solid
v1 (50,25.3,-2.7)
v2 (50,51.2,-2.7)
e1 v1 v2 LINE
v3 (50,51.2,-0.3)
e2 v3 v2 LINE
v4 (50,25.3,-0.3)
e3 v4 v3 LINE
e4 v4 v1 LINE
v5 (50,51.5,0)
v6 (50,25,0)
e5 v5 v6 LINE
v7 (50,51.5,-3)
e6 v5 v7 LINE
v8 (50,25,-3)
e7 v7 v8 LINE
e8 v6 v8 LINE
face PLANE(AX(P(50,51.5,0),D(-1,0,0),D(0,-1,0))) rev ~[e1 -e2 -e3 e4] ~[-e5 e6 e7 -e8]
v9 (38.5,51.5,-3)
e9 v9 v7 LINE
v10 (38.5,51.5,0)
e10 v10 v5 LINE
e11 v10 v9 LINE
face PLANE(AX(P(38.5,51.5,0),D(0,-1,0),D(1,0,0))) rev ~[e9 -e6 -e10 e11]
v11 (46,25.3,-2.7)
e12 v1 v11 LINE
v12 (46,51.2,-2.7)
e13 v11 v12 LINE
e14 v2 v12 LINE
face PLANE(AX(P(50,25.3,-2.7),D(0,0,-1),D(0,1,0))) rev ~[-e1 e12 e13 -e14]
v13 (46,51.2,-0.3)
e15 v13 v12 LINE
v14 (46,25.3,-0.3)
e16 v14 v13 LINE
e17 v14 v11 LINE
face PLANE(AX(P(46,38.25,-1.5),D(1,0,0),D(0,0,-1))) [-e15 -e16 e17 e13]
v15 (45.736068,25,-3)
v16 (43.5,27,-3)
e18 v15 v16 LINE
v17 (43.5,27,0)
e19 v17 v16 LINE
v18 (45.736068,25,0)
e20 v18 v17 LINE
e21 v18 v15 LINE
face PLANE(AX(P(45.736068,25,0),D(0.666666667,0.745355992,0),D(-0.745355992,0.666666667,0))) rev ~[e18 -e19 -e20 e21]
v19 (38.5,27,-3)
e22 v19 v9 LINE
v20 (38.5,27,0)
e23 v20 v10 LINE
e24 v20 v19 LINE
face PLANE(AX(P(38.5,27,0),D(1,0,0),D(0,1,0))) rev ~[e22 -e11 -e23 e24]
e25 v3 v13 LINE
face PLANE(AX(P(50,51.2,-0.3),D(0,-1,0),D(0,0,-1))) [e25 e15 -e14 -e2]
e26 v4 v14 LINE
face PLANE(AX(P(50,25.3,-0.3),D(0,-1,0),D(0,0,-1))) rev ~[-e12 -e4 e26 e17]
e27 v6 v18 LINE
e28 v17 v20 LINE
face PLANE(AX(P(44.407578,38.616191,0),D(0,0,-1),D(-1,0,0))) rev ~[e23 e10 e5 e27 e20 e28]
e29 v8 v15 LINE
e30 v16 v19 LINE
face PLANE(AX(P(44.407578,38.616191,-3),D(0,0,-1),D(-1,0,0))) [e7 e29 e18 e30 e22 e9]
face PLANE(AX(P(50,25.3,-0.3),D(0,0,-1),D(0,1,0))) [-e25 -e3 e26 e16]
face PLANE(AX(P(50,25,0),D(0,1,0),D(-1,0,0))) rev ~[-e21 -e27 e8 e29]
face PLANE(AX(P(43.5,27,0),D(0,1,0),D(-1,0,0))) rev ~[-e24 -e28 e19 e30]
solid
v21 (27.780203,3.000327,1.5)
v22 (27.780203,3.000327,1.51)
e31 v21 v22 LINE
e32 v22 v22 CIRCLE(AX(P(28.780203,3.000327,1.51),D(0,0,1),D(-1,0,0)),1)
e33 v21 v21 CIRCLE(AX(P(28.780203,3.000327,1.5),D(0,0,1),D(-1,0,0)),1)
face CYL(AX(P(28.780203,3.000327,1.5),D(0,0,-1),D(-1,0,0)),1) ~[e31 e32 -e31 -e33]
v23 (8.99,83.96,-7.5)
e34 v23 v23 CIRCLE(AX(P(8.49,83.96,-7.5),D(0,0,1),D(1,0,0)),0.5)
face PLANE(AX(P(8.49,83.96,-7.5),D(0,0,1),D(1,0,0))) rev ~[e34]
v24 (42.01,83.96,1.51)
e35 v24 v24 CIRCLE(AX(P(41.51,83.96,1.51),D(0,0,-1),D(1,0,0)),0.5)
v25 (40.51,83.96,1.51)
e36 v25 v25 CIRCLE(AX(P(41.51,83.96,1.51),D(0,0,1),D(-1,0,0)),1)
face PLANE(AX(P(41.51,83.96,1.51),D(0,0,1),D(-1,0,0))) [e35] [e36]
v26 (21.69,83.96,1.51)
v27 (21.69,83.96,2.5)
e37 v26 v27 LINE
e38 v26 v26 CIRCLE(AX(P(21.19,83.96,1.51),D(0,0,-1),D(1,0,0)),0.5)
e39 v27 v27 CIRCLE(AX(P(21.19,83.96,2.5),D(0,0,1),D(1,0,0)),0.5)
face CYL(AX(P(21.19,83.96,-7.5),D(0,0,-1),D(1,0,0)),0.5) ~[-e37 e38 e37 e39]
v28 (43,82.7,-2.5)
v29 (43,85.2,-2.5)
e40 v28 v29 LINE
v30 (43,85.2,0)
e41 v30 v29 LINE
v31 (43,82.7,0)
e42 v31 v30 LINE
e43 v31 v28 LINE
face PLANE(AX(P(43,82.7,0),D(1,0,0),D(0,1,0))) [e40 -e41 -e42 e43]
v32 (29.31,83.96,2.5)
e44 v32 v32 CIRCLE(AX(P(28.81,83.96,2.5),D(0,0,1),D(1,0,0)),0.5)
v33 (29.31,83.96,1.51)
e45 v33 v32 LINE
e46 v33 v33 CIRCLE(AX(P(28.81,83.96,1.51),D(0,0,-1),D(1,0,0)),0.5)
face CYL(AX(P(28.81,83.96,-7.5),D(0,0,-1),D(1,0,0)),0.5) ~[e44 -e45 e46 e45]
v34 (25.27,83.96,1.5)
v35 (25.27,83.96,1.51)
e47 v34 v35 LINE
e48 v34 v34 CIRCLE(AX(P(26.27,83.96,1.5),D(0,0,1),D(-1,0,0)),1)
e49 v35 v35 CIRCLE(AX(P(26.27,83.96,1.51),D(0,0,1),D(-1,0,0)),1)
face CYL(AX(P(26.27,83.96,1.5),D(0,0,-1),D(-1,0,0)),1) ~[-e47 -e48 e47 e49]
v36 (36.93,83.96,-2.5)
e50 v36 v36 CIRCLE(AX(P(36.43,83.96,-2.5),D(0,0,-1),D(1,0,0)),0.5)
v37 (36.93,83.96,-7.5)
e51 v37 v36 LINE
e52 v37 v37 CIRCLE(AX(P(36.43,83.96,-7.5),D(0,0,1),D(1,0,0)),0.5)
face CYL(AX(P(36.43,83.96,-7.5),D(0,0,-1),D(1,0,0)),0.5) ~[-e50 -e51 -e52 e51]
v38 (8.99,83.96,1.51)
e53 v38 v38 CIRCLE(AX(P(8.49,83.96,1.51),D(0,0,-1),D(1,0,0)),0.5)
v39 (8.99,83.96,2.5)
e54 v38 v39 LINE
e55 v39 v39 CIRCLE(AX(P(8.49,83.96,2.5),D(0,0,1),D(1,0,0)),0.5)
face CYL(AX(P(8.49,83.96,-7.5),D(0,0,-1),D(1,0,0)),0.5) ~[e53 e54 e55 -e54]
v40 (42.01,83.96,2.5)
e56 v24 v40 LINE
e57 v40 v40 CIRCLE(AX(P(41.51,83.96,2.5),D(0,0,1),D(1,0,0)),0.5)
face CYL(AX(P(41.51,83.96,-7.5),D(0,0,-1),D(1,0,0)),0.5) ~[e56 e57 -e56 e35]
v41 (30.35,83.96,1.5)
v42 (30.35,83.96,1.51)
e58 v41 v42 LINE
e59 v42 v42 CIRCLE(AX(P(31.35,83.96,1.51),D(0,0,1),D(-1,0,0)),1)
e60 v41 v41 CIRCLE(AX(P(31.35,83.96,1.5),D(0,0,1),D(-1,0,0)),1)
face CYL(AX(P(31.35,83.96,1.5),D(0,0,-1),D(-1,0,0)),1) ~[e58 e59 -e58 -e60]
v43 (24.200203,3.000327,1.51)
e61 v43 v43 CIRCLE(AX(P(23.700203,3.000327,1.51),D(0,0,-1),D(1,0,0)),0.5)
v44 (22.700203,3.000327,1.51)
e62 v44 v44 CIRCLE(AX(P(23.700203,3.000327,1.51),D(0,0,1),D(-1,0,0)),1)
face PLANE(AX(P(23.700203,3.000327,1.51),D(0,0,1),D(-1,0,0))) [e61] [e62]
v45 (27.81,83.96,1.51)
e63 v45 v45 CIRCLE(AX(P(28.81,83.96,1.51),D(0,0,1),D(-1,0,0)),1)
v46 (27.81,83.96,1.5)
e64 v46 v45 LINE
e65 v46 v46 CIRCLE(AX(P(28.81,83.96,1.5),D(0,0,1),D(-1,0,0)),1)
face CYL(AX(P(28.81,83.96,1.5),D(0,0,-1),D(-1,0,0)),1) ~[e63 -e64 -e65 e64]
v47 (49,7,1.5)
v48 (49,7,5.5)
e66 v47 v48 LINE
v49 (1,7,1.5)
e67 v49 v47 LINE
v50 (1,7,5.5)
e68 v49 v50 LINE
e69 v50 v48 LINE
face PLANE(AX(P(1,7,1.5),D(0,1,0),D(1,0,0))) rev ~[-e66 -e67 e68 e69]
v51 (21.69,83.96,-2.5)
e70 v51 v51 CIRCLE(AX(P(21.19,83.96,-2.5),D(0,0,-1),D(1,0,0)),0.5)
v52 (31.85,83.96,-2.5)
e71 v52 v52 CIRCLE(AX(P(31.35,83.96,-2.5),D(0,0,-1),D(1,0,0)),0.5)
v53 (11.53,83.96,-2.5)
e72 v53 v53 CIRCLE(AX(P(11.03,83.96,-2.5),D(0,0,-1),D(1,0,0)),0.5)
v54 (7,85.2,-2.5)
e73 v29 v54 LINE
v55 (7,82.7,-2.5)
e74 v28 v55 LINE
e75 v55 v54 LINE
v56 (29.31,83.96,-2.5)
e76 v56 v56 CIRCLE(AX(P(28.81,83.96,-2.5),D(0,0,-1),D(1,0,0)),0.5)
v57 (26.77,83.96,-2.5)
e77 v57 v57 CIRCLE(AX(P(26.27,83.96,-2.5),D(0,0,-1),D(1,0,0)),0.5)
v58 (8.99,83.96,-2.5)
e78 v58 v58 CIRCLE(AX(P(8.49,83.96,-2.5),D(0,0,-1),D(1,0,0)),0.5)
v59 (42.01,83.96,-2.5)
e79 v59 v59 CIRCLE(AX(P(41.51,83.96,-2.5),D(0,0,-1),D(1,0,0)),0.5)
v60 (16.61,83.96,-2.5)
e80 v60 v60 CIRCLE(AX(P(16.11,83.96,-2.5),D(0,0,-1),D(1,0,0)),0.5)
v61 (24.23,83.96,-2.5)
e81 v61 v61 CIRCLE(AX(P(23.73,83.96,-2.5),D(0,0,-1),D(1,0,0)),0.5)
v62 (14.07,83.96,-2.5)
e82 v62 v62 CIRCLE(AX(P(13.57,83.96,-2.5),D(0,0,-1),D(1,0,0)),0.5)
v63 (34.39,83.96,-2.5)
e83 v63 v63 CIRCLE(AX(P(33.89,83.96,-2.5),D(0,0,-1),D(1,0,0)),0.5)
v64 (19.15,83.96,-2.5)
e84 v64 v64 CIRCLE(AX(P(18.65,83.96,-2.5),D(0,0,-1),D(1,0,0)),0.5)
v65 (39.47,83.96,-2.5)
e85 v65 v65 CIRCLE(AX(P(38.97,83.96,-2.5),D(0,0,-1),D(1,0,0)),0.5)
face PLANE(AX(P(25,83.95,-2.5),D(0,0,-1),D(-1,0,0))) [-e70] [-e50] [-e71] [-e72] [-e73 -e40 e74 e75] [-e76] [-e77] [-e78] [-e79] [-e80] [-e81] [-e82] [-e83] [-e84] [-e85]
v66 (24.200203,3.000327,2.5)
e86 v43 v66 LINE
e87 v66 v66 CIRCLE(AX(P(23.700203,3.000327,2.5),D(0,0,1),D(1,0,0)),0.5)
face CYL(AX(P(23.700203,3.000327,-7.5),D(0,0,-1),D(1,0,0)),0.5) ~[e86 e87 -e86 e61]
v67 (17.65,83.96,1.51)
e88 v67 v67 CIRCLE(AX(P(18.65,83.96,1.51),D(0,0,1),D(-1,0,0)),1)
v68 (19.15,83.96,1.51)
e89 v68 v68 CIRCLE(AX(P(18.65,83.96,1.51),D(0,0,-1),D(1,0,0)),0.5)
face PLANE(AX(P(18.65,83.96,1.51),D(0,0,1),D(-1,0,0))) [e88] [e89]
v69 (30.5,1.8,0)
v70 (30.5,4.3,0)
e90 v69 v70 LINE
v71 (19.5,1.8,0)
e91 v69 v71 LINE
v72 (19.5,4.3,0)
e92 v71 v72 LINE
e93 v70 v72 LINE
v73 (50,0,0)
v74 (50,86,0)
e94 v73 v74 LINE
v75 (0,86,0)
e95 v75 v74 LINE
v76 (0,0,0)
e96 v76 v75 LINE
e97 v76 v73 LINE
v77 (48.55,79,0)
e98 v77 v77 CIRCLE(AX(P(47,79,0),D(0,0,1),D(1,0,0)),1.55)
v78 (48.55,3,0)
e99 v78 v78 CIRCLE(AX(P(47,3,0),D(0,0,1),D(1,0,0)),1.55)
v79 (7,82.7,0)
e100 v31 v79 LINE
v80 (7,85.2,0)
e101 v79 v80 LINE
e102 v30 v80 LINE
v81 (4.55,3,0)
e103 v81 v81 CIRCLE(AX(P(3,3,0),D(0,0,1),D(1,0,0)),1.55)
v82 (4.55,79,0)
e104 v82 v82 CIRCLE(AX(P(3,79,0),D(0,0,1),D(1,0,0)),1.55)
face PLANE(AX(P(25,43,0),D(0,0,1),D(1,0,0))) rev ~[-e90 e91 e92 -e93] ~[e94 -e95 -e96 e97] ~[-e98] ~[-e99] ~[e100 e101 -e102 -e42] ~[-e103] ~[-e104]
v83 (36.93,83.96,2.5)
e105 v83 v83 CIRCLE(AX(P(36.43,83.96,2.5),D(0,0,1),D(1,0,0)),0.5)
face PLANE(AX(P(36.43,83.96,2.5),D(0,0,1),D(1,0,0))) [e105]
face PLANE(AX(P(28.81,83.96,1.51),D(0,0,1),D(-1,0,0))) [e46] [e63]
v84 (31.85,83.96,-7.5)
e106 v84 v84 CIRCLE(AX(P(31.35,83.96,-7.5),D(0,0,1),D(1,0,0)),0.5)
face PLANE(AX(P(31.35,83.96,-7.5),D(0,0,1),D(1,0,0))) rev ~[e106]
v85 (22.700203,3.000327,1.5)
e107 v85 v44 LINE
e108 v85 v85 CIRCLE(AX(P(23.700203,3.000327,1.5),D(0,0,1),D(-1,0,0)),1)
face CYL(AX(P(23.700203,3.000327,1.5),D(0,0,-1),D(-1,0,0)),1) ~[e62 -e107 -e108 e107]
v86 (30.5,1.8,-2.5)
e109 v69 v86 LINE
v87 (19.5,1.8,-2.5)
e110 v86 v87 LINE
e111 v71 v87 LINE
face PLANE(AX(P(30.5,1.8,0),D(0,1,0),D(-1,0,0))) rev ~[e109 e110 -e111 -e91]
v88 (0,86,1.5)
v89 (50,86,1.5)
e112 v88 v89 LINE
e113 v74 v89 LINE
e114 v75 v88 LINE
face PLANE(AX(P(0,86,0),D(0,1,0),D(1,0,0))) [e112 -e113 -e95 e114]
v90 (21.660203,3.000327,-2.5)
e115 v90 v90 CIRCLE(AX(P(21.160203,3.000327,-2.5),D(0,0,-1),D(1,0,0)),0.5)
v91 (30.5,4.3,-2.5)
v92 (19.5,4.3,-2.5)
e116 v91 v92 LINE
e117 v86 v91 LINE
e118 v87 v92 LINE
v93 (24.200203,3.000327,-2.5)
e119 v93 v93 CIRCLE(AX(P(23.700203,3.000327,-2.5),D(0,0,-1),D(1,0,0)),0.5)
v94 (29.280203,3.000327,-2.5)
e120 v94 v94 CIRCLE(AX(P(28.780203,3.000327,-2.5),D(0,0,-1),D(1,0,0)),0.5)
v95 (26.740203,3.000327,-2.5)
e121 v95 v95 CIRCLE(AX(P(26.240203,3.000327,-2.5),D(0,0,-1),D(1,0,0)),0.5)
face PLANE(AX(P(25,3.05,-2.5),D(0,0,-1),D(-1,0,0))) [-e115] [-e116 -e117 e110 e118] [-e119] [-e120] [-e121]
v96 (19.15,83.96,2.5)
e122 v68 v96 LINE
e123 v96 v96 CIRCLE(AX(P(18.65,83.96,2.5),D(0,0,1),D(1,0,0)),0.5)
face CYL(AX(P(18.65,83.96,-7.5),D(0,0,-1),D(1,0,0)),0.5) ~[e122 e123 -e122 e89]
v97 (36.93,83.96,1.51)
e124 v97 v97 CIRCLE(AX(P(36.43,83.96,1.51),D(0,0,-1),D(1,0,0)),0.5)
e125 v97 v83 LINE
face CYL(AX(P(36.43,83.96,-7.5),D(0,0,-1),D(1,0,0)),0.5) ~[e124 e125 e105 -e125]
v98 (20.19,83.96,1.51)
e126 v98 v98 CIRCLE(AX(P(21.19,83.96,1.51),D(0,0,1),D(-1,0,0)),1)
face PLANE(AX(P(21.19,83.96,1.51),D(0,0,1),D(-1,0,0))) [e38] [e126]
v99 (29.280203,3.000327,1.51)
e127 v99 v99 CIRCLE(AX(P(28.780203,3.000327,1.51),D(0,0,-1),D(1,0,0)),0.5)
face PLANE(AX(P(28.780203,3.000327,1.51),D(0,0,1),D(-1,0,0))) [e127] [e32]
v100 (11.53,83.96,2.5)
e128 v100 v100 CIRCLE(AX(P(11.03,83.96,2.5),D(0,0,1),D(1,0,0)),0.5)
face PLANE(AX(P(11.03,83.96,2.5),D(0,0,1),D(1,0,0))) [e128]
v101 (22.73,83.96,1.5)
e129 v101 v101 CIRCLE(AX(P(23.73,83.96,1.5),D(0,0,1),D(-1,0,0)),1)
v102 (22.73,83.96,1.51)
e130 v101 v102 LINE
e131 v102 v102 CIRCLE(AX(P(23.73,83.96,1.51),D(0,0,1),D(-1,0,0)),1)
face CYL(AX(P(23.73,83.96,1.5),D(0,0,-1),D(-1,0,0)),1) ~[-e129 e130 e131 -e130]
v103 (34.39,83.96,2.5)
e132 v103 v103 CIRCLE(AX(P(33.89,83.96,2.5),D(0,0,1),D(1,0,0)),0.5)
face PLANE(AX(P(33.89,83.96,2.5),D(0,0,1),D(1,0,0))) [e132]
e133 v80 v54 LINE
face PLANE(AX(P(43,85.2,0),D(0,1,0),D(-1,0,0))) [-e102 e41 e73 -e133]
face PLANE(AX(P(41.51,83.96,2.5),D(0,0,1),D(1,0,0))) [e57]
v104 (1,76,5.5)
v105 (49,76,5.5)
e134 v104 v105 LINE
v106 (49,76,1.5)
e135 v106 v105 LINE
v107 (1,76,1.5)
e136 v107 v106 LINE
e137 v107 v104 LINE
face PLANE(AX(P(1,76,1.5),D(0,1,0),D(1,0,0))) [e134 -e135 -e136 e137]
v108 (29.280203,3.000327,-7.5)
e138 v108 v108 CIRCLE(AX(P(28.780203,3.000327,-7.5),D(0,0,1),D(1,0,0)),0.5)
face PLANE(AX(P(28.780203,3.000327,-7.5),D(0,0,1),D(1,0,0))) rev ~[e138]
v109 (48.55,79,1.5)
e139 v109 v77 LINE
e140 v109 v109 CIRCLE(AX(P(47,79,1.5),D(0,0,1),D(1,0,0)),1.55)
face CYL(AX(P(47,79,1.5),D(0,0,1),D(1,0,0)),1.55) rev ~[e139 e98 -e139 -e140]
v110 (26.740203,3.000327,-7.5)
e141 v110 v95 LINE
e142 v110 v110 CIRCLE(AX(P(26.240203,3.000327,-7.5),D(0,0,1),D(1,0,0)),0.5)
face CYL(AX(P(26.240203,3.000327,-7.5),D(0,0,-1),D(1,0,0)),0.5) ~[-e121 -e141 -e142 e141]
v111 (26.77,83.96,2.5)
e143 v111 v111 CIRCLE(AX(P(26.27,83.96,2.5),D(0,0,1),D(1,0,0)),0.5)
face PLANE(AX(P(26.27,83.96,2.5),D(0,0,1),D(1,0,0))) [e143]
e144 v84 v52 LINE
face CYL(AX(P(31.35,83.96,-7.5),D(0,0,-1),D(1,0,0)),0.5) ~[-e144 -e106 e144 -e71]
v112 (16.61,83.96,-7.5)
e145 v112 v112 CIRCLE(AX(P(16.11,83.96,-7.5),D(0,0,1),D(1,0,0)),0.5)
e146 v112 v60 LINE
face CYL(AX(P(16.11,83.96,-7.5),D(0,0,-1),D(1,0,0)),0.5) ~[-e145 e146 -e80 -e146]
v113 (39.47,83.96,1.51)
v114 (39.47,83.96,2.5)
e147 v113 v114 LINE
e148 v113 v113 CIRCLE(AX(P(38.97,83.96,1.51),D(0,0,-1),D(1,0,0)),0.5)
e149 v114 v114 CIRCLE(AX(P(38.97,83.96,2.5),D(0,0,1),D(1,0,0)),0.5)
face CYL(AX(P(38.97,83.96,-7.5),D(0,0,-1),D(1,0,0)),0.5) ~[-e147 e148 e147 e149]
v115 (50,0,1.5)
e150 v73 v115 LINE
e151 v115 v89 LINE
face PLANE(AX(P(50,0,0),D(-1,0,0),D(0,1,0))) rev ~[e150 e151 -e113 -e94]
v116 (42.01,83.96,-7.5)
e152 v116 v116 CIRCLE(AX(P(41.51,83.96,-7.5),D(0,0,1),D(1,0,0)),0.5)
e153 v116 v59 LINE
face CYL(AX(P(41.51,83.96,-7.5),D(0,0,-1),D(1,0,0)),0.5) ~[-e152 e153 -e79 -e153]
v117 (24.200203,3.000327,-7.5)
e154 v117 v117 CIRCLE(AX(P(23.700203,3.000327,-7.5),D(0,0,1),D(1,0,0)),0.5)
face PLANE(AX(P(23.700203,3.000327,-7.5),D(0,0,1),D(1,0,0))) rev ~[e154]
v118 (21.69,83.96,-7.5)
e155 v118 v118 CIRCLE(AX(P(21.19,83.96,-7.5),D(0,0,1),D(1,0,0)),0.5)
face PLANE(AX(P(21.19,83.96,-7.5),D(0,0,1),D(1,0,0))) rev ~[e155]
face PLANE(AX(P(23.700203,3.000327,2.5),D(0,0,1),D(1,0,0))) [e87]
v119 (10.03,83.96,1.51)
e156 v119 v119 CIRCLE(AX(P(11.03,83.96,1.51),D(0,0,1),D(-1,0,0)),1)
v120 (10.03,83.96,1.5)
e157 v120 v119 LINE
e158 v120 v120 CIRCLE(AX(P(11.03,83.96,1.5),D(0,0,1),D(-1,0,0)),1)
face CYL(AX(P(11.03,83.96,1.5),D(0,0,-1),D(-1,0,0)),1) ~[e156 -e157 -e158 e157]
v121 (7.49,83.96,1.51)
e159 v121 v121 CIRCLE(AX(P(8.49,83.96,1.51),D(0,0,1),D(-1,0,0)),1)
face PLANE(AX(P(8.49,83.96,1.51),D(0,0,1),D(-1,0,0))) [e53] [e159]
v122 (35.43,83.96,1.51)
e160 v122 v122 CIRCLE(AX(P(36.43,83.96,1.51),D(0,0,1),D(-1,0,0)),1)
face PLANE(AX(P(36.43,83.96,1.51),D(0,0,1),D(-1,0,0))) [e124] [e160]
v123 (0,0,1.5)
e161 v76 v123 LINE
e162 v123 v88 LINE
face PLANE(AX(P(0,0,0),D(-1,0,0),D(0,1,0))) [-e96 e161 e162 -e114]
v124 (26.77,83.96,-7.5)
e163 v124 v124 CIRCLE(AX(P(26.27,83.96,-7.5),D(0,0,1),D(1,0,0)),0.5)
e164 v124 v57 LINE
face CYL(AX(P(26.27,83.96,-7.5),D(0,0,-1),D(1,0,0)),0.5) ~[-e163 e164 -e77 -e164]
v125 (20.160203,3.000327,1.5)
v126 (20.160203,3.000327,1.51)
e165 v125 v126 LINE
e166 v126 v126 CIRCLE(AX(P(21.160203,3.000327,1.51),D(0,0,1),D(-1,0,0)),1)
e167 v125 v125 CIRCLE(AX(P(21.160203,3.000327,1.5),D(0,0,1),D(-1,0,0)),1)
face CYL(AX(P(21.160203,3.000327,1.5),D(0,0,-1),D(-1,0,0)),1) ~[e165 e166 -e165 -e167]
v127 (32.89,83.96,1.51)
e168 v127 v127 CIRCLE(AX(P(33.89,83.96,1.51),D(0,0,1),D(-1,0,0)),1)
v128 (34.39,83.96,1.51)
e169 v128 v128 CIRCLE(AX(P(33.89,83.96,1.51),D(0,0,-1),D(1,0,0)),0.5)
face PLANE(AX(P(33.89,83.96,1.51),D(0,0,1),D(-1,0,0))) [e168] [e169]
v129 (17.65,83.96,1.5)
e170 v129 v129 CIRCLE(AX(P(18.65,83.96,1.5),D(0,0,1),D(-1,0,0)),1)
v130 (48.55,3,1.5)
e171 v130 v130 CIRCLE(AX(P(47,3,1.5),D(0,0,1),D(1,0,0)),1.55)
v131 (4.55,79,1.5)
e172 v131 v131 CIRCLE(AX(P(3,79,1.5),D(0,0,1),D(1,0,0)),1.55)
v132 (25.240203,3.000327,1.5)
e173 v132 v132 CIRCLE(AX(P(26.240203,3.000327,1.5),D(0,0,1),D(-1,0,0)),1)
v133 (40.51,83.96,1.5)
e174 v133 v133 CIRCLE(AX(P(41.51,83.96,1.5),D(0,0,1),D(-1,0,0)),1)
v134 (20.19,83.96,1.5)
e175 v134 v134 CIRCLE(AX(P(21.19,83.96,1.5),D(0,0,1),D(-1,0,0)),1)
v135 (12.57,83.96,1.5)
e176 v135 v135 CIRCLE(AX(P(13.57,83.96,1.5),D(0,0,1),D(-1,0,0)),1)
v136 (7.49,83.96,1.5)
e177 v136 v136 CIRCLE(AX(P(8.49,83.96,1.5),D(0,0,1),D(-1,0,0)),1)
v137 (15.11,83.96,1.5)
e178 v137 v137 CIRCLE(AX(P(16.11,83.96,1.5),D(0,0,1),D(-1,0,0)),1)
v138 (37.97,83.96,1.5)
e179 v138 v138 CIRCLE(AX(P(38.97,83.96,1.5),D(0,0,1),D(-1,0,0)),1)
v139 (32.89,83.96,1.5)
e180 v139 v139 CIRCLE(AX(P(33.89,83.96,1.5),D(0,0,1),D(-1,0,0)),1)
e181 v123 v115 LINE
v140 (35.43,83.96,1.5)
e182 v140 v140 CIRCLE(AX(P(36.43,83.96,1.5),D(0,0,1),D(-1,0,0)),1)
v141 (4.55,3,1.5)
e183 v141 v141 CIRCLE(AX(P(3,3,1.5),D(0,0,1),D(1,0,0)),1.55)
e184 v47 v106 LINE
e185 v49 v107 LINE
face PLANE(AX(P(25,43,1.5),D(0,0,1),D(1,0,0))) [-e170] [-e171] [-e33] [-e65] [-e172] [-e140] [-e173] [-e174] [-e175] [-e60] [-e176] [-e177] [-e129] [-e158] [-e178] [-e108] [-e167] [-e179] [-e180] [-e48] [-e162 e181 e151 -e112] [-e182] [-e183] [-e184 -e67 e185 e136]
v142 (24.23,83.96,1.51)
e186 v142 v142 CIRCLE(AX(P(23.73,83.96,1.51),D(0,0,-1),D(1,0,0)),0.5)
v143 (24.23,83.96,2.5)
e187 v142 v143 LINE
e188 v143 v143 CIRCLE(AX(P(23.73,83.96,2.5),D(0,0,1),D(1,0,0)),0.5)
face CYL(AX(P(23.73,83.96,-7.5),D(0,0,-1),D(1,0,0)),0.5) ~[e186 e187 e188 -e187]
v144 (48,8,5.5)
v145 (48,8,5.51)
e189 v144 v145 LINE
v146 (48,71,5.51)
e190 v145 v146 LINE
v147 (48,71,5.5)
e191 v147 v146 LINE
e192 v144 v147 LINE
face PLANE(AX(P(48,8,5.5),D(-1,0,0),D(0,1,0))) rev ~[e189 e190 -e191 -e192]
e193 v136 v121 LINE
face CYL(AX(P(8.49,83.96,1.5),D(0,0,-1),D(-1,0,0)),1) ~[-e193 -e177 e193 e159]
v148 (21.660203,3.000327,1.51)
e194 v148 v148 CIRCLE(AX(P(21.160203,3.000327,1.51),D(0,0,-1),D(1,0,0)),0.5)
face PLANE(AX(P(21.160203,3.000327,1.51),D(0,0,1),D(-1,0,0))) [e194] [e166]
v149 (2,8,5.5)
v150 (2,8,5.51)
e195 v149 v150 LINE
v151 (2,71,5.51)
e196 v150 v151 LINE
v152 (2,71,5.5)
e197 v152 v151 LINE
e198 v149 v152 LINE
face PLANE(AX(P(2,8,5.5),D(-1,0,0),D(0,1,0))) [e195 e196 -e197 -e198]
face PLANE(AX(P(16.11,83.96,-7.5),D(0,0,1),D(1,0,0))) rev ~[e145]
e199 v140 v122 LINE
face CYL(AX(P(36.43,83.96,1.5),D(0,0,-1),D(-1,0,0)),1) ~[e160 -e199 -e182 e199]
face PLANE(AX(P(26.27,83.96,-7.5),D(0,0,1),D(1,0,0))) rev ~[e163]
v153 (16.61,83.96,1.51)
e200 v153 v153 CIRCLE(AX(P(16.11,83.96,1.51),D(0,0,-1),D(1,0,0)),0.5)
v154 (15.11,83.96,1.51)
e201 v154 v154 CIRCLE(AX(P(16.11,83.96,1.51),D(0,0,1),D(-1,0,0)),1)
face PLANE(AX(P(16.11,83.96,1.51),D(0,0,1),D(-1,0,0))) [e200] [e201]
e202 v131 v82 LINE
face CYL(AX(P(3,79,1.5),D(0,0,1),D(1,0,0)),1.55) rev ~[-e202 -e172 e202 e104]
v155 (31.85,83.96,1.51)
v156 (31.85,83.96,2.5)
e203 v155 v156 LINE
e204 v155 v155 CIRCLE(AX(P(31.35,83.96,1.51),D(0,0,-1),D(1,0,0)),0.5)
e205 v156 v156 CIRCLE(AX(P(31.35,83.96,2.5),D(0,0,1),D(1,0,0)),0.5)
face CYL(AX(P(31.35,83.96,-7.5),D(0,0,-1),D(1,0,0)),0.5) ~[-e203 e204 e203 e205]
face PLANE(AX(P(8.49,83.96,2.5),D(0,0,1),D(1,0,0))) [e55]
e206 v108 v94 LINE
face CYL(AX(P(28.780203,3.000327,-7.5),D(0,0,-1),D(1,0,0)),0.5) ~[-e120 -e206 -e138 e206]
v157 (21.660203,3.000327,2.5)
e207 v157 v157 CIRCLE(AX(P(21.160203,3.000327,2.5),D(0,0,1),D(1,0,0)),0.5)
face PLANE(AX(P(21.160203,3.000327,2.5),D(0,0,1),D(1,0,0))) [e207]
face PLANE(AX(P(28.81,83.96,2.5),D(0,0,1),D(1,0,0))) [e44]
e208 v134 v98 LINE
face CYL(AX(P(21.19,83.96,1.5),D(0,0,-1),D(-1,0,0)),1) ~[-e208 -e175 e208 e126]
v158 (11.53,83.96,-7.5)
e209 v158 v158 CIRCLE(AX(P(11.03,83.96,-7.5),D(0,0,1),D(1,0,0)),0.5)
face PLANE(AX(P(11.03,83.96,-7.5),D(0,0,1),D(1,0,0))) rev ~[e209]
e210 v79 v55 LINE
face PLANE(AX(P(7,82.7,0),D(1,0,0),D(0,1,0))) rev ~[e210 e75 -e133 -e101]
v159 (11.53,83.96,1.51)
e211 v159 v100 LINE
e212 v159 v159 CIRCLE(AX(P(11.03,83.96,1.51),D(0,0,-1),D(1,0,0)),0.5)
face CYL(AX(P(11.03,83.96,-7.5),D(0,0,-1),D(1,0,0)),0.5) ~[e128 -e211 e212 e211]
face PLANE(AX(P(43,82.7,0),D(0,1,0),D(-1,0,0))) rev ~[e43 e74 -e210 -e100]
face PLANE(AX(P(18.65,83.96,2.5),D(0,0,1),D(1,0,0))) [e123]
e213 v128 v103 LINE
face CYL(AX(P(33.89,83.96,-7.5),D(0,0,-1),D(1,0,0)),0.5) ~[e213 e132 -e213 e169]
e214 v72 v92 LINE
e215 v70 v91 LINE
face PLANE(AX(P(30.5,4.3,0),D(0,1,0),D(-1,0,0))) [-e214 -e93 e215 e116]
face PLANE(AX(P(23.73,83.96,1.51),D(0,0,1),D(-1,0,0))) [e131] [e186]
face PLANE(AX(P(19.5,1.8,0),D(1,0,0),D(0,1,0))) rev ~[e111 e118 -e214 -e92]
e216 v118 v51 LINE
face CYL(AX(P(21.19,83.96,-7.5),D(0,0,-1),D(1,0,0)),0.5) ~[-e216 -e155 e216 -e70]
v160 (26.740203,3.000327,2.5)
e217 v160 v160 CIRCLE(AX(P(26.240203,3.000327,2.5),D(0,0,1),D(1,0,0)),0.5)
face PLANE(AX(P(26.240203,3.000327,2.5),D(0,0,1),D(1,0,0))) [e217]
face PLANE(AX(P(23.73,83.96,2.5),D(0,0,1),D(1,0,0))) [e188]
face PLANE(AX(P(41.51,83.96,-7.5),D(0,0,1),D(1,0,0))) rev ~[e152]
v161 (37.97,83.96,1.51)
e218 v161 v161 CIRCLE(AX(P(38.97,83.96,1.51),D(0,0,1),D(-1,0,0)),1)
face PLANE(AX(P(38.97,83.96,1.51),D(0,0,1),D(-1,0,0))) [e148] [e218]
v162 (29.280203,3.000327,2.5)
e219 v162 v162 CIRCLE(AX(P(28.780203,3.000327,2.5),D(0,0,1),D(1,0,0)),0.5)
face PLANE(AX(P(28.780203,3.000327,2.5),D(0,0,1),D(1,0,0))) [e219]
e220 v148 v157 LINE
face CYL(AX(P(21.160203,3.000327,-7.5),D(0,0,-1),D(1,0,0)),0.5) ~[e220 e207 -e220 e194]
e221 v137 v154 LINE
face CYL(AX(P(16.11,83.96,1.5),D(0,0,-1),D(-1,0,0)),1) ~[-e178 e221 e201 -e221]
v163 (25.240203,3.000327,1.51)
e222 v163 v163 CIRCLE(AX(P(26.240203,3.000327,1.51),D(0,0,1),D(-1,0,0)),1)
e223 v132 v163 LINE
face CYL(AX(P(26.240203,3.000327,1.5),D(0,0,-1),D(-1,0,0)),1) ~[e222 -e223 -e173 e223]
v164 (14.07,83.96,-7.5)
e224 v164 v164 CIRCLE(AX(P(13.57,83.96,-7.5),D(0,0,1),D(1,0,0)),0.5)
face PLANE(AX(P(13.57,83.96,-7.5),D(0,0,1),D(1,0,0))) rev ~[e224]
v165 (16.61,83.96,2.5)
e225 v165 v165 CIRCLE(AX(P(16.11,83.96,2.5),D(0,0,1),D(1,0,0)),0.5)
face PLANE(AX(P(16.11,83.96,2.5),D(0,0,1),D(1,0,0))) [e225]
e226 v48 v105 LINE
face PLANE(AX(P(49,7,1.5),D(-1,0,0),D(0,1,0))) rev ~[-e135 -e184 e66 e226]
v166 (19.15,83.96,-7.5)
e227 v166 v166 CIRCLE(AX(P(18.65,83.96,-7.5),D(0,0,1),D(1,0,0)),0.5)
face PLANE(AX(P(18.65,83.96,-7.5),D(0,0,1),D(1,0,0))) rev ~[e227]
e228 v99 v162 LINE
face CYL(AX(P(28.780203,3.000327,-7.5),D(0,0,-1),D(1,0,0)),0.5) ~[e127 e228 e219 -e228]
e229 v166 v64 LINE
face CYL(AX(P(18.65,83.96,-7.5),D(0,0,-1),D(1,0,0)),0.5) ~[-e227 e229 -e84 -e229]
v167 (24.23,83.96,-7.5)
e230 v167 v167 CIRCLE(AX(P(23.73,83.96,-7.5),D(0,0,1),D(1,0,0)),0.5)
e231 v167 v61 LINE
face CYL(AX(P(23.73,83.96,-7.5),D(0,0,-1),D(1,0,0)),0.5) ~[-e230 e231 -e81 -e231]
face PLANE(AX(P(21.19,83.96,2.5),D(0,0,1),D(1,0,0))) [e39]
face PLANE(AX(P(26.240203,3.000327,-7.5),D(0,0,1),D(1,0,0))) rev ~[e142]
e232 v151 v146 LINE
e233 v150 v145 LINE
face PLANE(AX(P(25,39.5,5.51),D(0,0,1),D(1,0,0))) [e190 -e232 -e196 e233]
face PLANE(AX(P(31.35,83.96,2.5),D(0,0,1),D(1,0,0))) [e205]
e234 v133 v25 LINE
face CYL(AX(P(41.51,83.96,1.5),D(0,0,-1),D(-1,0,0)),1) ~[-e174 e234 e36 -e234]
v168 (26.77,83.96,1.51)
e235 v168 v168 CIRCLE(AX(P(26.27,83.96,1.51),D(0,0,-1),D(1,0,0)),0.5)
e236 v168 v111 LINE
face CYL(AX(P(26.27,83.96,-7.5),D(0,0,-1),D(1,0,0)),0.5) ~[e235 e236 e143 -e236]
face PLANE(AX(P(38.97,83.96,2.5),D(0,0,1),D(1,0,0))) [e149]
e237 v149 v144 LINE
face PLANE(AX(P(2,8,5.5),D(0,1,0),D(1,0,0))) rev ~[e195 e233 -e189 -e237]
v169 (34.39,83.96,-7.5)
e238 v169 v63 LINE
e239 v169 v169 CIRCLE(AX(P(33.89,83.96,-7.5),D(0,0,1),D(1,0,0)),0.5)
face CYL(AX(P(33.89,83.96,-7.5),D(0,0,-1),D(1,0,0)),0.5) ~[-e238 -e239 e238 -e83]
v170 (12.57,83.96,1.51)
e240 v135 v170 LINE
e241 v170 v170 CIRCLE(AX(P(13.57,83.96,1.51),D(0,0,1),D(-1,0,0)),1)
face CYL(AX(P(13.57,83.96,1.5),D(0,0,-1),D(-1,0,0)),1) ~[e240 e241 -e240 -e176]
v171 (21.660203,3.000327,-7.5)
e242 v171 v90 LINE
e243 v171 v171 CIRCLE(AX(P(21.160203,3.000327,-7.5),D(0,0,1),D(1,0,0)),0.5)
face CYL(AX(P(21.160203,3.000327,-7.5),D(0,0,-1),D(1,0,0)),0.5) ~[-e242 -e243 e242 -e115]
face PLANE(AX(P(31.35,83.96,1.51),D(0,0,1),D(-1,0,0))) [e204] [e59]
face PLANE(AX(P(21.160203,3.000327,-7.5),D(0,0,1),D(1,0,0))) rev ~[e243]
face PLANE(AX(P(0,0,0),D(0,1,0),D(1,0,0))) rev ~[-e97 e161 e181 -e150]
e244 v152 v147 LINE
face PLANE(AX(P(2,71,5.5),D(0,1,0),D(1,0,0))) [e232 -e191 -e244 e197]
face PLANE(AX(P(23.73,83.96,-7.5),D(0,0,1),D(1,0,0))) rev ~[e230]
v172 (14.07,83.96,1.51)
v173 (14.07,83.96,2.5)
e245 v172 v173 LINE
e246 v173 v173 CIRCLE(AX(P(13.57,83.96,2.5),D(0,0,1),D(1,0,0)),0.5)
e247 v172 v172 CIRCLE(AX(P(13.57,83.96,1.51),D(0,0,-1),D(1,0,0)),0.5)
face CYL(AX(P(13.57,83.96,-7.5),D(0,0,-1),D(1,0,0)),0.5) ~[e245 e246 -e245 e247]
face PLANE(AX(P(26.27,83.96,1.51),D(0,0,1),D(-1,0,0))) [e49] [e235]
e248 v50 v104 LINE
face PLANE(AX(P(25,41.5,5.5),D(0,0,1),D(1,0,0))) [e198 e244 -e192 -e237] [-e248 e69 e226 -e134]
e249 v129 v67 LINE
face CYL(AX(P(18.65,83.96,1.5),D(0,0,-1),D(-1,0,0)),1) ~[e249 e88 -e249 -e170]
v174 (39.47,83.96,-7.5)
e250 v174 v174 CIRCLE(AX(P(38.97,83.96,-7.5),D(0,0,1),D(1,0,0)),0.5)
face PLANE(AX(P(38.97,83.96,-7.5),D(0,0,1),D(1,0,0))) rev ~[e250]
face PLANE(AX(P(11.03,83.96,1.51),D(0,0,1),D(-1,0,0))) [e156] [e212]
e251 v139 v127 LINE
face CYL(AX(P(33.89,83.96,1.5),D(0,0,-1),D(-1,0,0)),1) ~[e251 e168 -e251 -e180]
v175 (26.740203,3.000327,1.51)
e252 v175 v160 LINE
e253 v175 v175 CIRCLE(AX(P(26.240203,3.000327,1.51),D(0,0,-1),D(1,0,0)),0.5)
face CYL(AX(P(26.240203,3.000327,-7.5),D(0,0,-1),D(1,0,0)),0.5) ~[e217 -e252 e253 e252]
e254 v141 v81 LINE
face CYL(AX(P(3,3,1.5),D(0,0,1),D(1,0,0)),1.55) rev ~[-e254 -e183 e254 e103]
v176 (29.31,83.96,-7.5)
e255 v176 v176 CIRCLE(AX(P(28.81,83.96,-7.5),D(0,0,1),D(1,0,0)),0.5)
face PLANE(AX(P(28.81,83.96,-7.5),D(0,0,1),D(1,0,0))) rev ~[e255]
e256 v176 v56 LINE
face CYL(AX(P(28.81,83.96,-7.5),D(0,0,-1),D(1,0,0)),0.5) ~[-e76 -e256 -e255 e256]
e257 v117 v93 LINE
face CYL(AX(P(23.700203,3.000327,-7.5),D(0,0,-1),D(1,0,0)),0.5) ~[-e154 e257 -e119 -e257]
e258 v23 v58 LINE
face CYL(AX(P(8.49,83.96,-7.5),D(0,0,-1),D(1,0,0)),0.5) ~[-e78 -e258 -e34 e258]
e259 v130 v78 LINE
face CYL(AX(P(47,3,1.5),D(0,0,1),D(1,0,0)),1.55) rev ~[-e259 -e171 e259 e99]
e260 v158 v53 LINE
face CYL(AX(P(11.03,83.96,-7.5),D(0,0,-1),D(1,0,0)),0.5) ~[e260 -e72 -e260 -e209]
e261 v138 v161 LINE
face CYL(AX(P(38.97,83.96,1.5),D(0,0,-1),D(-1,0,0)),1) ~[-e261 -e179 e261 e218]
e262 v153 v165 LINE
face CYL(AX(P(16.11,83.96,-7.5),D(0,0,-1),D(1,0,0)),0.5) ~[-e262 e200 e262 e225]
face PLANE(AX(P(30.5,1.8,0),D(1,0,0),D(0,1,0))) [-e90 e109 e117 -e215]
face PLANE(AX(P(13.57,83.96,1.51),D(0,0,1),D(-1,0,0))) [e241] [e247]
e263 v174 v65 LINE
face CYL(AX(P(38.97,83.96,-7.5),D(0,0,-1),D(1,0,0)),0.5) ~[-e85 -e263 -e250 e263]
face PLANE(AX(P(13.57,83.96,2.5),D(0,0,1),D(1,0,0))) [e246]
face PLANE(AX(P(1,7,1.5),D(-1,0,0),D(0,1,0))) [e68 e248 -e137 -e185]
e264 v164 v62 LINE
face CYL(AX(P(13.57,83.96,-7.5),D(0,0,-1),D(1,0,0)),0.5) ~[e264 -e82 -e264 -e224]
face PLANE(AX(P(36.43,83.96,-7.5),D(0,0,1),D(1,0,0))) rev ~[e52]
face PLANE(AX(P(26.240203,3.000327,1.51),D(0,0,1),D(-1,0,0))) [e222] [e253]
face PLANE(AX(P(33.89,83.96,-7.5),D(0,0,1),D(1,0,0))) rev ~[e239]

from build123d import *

# Parameters (mm, degrees)
SKETCH1_W                = 50
SKETCH1_H                = 86
BOSS_EXTRUDE1_DEPTH      = 1.5
SKETCH2_R                = 1.55
CUT_EXTRUDE1_DEPTH       = 1.5
SKETCH3_W                = 48
SKETCH3_H                = 69
BOSS_EXTRUDE2_DEPTH      = 4
SKETCH4_W                = 46
SKETCH4_H                = 63
BOSS_EXTRUDE3_DEPTH      = 0.01
SKETCH5_R                = 1
BOSS_EXTRUDE4_DEPTH      = 0.01
BOSS_EXTRUDE5_DEPTH      = 1
BOSS_EXTRUDE5_DEPTH_BACK = 9
SKETCH6_R                = 0.5
SKETCH8_W                = 36
SKETCH8_H                = 2.5
SKETCH8_W_2              = 11
BOSS_EXTRUDE6_DEPTH      = 2.5
BOSS_EXTRUDE7_DEPTH      = 3
SKETCH10_W               = 2.4
SKETCH10_H               = 25.9
CUT_EXTRUDE2_DEPTH       = 4


with BuildPart() as part:
    # Sketch1 → Boss-Extrude1 (new body)
    with BuildSketch(Plane.XY):
        with Locations((25, 43)):
            Rectangle(SKETCH1_W, SKETCH1_H)
    extrude(amount=BOSS_EXTRUDE1_DEPTH)

    # Sketch2 → Cut-Extrude1 (cut)
    with BuildSketch(Plane.XY.offset(1.5)):
        with Locations((3, 79)):
            Circle(SKETCH2_R)
        with Locations((47, 79)):
            Circle(SKETCH2_R)
        with Locations((47, 3)):
            Circle(SKETCH2_R)
        with Locations((3, 3)):
            Circle(SKETCH2_R)
    extrude(amount=-CUT_EXTRUDE1_DEPTH, mode=Mode.SUBTRACT)

    # Sketch3 → Boss-Extrude2 (add)
    with BuildSketch(Plane.XY.offset(1.5)):
        with Locations((25, 41.5)):
            Rectangle(SKETCH3_W, SKETCH3_H)
    extrude(amount=BOSS_EXTRUDE2_DEPTH)

    # Sketch4 → Boss-Extrude3 (add)
    with BuildSketch(Plane.XY.offset(5.5)):
        with Locations((25, 39.5)):
            Rectangle(SKETCH4_W, SKETCH4_H)
    extrude(amount=BOSS_EXTRUDE3_DEPTH)

    # Sketch5 → Boss-Extrude4 (add)
    with BuildSketch(Plane.XY.offset(1.5)):
        with Locations(Location((8.49, 83.96, 0), (0, 0, 180))):
            Circle(SKETCH5_R)
        with Locations(Location((11.03, 83.96, 0), (0, 0, 180))):
            Circle(SKETCH5_R)
        with Locations(Location((13.57, 83.96, 0), (0, 0, 180))):
            Circle(SKETCH5_R)
        with Locations(Location((16.11, 83.96, 0), (0, 0, 180))):
            Circle(SKETCH5_R)
        with Locations(Location((18.65, 83.96, 0), (0, 0, 180))):
            Circle(SKETCH5_R)
        with Locations(Location((21.19, 83.96, 0), (0, 0, 180))):
            Circle(SKETCH5_R)
        with Locations(Location((23.73, 83.96, 0), (0, 0, 180))):
            Circle(SKETCH5_R)
        with Locations(Location((26.27, 83.96, 0), (0, 0, 180))):
            Circle(SKETCH5_R)
        with Locations(Location((28.81, 83.96, 0), (0, 0, 180))):
            Circle(SKETCH5_R)
        with Locations(Location((31.35, 83.96, 0), (0, 0, 180))):
            Circle(SKETCH5_R)
        with Locations(Location((33.89, 83.96, 0), (0, 0, 180))):
            Circle(SKETCH5_R)
        with Locations(Location((36.43, 83.96, 0), (0, 0, 180))):
            Circle(SKETCH5_R)
        with Locations(Location((38.97, 83.96, 0), (0, 0, 180))):
            Circle(SKETCH5_R)
        with Locations(Location((41.51, 83.96, 0), (0, 0, 180))):
            Circle(SKETCH5_R)
        with Locations(Location((21.16020318, 3.000326514, 0), (0, 0, 180))):
            Circle(SKETCH5_R)
        with Locations(Location((23.70020318, 3.000326514, 0), (0, 0, 180))):
            Circle(SKETCH5_R)
        with Locations(Location((26.24020318, 3.000326514, 0), (0, 0, 180))):
            Circle(SKETCH5_R)
        with Locations(Location((28.78020318, 3.000326514, 0), (0, 0, 180))):
            Circle(SKETCH5_R)
    extrude(amount=BOSS_EXTRUDE4_DEPTH)

    # Sketch6 → Boss-Extrude5 (add, two sides: drawn at the far end of the back side and taken through both)
    with BuildSketch(Plane.XY.offset(1.5).offset(-BOSS_EXTRUDE5_DEPTH_BACK)):
        with Locations((8.49, 83.96)):
            Circle(SKETCH6_R)
        with Locations((11.03, 83.96)):
            Circle(SKETCH6_R)
        with Locations((13.57, 83.96)):
            Circle(SKETCH6_R)
        with Locations((16.11, 83.96)):
            Circle(SKETCH6_R)
        with Locations((18.65, 83.96)):
            Circle(SKETCH6_R)
        with Locations((21.19, 83.96)):
            Circle(SKETCH6_R)
        with Locations((23.73, 83.96)):
            Circle(SKETCH6_R)
        with Locations((26.27, 83.96)):
            Circle(SKETCH6_R)
        with Locations((28.81, 83.96)):
            Circle(SKETCH6_R)
        with Locations((31.35, 83.96)):
            Circle(SKETCH6_R)
        with Locations((33.89, 83.96)):
            Circle(SKETCH6_R)
        with Locations((36.43, 83.96)):
            Circle(SKETCH6_R)
        with Locations((38.97, 83.96)):
            Circle(SKETCH6_R)
        with Locations((41.51, 83.96)):
            Circle(SKETCH6_R)
        with Locations((21.16020318, 3.000326514)):
            Circle(SKETCH6_R)
        with Locations((23.70020318, 3.000326514)):
            Circle(SKETCH6_R)
        with Locations((26.24020318, 3.000326514)):
            Circle(SKETCH6_R)
        with Locations((28.78020318, 3.000326514)):
            Circle(SKETCH6_R)
    extrude(amount=BOSS_EXTRUDE5_DEPTH + BOSS_EXTRUDE5_DEPTH_BACK)

    # Sketch8 → Boss-Extrude6 (add)
    with BuildSketch(Plane(origin=(0, 0, 0), x_dir=(-1, 0, 0), z_dir=(0, 0, -1))):
        with Locations((-25, 83.95)):
            Rectangle(SKETCH8_W, SKETCH8_H)
        with Locations((-25, 3.05)):
            Rectangle(SKETCH8_W_2, SKETCH8_H)
    extrude(amount=BOSS_EXTRUDE6_DEPTH)


with BuildPart() as body_2:
    # Sketch9 → Boss-Extrude7 (new body)
    with BuildSketch(Plane(origin=(0, 0, 0), x_dir=(-1, 0, 0), z_dir=(0, 0, -1))):
        Polygon((-38.5, 51.5), (-50, 51.5), (-50, 25), (-45.736067977, 25), (-43.5, 27), (-38.5, 27), align=None)
    extrude(amount=BOSS_EXTRUDE7_DEPTH)

    # Sketch10 → Cut-Extrude2 (cut)
    with BuildSketch(Plane(origin=(50, 0, 0), x_dir=(0, 0, -1), z_dir=(1, 0, 0))):
        with Locations((1.5, 38.25)):
            Rectangle(SKETCH10_W, SKETCH10_H)
    extrude(amount=-CUT_EXTRUDE2_DEPTH, mode=Mode.SUBTRACT)


solid = Compound([part.part, body_2.part])
